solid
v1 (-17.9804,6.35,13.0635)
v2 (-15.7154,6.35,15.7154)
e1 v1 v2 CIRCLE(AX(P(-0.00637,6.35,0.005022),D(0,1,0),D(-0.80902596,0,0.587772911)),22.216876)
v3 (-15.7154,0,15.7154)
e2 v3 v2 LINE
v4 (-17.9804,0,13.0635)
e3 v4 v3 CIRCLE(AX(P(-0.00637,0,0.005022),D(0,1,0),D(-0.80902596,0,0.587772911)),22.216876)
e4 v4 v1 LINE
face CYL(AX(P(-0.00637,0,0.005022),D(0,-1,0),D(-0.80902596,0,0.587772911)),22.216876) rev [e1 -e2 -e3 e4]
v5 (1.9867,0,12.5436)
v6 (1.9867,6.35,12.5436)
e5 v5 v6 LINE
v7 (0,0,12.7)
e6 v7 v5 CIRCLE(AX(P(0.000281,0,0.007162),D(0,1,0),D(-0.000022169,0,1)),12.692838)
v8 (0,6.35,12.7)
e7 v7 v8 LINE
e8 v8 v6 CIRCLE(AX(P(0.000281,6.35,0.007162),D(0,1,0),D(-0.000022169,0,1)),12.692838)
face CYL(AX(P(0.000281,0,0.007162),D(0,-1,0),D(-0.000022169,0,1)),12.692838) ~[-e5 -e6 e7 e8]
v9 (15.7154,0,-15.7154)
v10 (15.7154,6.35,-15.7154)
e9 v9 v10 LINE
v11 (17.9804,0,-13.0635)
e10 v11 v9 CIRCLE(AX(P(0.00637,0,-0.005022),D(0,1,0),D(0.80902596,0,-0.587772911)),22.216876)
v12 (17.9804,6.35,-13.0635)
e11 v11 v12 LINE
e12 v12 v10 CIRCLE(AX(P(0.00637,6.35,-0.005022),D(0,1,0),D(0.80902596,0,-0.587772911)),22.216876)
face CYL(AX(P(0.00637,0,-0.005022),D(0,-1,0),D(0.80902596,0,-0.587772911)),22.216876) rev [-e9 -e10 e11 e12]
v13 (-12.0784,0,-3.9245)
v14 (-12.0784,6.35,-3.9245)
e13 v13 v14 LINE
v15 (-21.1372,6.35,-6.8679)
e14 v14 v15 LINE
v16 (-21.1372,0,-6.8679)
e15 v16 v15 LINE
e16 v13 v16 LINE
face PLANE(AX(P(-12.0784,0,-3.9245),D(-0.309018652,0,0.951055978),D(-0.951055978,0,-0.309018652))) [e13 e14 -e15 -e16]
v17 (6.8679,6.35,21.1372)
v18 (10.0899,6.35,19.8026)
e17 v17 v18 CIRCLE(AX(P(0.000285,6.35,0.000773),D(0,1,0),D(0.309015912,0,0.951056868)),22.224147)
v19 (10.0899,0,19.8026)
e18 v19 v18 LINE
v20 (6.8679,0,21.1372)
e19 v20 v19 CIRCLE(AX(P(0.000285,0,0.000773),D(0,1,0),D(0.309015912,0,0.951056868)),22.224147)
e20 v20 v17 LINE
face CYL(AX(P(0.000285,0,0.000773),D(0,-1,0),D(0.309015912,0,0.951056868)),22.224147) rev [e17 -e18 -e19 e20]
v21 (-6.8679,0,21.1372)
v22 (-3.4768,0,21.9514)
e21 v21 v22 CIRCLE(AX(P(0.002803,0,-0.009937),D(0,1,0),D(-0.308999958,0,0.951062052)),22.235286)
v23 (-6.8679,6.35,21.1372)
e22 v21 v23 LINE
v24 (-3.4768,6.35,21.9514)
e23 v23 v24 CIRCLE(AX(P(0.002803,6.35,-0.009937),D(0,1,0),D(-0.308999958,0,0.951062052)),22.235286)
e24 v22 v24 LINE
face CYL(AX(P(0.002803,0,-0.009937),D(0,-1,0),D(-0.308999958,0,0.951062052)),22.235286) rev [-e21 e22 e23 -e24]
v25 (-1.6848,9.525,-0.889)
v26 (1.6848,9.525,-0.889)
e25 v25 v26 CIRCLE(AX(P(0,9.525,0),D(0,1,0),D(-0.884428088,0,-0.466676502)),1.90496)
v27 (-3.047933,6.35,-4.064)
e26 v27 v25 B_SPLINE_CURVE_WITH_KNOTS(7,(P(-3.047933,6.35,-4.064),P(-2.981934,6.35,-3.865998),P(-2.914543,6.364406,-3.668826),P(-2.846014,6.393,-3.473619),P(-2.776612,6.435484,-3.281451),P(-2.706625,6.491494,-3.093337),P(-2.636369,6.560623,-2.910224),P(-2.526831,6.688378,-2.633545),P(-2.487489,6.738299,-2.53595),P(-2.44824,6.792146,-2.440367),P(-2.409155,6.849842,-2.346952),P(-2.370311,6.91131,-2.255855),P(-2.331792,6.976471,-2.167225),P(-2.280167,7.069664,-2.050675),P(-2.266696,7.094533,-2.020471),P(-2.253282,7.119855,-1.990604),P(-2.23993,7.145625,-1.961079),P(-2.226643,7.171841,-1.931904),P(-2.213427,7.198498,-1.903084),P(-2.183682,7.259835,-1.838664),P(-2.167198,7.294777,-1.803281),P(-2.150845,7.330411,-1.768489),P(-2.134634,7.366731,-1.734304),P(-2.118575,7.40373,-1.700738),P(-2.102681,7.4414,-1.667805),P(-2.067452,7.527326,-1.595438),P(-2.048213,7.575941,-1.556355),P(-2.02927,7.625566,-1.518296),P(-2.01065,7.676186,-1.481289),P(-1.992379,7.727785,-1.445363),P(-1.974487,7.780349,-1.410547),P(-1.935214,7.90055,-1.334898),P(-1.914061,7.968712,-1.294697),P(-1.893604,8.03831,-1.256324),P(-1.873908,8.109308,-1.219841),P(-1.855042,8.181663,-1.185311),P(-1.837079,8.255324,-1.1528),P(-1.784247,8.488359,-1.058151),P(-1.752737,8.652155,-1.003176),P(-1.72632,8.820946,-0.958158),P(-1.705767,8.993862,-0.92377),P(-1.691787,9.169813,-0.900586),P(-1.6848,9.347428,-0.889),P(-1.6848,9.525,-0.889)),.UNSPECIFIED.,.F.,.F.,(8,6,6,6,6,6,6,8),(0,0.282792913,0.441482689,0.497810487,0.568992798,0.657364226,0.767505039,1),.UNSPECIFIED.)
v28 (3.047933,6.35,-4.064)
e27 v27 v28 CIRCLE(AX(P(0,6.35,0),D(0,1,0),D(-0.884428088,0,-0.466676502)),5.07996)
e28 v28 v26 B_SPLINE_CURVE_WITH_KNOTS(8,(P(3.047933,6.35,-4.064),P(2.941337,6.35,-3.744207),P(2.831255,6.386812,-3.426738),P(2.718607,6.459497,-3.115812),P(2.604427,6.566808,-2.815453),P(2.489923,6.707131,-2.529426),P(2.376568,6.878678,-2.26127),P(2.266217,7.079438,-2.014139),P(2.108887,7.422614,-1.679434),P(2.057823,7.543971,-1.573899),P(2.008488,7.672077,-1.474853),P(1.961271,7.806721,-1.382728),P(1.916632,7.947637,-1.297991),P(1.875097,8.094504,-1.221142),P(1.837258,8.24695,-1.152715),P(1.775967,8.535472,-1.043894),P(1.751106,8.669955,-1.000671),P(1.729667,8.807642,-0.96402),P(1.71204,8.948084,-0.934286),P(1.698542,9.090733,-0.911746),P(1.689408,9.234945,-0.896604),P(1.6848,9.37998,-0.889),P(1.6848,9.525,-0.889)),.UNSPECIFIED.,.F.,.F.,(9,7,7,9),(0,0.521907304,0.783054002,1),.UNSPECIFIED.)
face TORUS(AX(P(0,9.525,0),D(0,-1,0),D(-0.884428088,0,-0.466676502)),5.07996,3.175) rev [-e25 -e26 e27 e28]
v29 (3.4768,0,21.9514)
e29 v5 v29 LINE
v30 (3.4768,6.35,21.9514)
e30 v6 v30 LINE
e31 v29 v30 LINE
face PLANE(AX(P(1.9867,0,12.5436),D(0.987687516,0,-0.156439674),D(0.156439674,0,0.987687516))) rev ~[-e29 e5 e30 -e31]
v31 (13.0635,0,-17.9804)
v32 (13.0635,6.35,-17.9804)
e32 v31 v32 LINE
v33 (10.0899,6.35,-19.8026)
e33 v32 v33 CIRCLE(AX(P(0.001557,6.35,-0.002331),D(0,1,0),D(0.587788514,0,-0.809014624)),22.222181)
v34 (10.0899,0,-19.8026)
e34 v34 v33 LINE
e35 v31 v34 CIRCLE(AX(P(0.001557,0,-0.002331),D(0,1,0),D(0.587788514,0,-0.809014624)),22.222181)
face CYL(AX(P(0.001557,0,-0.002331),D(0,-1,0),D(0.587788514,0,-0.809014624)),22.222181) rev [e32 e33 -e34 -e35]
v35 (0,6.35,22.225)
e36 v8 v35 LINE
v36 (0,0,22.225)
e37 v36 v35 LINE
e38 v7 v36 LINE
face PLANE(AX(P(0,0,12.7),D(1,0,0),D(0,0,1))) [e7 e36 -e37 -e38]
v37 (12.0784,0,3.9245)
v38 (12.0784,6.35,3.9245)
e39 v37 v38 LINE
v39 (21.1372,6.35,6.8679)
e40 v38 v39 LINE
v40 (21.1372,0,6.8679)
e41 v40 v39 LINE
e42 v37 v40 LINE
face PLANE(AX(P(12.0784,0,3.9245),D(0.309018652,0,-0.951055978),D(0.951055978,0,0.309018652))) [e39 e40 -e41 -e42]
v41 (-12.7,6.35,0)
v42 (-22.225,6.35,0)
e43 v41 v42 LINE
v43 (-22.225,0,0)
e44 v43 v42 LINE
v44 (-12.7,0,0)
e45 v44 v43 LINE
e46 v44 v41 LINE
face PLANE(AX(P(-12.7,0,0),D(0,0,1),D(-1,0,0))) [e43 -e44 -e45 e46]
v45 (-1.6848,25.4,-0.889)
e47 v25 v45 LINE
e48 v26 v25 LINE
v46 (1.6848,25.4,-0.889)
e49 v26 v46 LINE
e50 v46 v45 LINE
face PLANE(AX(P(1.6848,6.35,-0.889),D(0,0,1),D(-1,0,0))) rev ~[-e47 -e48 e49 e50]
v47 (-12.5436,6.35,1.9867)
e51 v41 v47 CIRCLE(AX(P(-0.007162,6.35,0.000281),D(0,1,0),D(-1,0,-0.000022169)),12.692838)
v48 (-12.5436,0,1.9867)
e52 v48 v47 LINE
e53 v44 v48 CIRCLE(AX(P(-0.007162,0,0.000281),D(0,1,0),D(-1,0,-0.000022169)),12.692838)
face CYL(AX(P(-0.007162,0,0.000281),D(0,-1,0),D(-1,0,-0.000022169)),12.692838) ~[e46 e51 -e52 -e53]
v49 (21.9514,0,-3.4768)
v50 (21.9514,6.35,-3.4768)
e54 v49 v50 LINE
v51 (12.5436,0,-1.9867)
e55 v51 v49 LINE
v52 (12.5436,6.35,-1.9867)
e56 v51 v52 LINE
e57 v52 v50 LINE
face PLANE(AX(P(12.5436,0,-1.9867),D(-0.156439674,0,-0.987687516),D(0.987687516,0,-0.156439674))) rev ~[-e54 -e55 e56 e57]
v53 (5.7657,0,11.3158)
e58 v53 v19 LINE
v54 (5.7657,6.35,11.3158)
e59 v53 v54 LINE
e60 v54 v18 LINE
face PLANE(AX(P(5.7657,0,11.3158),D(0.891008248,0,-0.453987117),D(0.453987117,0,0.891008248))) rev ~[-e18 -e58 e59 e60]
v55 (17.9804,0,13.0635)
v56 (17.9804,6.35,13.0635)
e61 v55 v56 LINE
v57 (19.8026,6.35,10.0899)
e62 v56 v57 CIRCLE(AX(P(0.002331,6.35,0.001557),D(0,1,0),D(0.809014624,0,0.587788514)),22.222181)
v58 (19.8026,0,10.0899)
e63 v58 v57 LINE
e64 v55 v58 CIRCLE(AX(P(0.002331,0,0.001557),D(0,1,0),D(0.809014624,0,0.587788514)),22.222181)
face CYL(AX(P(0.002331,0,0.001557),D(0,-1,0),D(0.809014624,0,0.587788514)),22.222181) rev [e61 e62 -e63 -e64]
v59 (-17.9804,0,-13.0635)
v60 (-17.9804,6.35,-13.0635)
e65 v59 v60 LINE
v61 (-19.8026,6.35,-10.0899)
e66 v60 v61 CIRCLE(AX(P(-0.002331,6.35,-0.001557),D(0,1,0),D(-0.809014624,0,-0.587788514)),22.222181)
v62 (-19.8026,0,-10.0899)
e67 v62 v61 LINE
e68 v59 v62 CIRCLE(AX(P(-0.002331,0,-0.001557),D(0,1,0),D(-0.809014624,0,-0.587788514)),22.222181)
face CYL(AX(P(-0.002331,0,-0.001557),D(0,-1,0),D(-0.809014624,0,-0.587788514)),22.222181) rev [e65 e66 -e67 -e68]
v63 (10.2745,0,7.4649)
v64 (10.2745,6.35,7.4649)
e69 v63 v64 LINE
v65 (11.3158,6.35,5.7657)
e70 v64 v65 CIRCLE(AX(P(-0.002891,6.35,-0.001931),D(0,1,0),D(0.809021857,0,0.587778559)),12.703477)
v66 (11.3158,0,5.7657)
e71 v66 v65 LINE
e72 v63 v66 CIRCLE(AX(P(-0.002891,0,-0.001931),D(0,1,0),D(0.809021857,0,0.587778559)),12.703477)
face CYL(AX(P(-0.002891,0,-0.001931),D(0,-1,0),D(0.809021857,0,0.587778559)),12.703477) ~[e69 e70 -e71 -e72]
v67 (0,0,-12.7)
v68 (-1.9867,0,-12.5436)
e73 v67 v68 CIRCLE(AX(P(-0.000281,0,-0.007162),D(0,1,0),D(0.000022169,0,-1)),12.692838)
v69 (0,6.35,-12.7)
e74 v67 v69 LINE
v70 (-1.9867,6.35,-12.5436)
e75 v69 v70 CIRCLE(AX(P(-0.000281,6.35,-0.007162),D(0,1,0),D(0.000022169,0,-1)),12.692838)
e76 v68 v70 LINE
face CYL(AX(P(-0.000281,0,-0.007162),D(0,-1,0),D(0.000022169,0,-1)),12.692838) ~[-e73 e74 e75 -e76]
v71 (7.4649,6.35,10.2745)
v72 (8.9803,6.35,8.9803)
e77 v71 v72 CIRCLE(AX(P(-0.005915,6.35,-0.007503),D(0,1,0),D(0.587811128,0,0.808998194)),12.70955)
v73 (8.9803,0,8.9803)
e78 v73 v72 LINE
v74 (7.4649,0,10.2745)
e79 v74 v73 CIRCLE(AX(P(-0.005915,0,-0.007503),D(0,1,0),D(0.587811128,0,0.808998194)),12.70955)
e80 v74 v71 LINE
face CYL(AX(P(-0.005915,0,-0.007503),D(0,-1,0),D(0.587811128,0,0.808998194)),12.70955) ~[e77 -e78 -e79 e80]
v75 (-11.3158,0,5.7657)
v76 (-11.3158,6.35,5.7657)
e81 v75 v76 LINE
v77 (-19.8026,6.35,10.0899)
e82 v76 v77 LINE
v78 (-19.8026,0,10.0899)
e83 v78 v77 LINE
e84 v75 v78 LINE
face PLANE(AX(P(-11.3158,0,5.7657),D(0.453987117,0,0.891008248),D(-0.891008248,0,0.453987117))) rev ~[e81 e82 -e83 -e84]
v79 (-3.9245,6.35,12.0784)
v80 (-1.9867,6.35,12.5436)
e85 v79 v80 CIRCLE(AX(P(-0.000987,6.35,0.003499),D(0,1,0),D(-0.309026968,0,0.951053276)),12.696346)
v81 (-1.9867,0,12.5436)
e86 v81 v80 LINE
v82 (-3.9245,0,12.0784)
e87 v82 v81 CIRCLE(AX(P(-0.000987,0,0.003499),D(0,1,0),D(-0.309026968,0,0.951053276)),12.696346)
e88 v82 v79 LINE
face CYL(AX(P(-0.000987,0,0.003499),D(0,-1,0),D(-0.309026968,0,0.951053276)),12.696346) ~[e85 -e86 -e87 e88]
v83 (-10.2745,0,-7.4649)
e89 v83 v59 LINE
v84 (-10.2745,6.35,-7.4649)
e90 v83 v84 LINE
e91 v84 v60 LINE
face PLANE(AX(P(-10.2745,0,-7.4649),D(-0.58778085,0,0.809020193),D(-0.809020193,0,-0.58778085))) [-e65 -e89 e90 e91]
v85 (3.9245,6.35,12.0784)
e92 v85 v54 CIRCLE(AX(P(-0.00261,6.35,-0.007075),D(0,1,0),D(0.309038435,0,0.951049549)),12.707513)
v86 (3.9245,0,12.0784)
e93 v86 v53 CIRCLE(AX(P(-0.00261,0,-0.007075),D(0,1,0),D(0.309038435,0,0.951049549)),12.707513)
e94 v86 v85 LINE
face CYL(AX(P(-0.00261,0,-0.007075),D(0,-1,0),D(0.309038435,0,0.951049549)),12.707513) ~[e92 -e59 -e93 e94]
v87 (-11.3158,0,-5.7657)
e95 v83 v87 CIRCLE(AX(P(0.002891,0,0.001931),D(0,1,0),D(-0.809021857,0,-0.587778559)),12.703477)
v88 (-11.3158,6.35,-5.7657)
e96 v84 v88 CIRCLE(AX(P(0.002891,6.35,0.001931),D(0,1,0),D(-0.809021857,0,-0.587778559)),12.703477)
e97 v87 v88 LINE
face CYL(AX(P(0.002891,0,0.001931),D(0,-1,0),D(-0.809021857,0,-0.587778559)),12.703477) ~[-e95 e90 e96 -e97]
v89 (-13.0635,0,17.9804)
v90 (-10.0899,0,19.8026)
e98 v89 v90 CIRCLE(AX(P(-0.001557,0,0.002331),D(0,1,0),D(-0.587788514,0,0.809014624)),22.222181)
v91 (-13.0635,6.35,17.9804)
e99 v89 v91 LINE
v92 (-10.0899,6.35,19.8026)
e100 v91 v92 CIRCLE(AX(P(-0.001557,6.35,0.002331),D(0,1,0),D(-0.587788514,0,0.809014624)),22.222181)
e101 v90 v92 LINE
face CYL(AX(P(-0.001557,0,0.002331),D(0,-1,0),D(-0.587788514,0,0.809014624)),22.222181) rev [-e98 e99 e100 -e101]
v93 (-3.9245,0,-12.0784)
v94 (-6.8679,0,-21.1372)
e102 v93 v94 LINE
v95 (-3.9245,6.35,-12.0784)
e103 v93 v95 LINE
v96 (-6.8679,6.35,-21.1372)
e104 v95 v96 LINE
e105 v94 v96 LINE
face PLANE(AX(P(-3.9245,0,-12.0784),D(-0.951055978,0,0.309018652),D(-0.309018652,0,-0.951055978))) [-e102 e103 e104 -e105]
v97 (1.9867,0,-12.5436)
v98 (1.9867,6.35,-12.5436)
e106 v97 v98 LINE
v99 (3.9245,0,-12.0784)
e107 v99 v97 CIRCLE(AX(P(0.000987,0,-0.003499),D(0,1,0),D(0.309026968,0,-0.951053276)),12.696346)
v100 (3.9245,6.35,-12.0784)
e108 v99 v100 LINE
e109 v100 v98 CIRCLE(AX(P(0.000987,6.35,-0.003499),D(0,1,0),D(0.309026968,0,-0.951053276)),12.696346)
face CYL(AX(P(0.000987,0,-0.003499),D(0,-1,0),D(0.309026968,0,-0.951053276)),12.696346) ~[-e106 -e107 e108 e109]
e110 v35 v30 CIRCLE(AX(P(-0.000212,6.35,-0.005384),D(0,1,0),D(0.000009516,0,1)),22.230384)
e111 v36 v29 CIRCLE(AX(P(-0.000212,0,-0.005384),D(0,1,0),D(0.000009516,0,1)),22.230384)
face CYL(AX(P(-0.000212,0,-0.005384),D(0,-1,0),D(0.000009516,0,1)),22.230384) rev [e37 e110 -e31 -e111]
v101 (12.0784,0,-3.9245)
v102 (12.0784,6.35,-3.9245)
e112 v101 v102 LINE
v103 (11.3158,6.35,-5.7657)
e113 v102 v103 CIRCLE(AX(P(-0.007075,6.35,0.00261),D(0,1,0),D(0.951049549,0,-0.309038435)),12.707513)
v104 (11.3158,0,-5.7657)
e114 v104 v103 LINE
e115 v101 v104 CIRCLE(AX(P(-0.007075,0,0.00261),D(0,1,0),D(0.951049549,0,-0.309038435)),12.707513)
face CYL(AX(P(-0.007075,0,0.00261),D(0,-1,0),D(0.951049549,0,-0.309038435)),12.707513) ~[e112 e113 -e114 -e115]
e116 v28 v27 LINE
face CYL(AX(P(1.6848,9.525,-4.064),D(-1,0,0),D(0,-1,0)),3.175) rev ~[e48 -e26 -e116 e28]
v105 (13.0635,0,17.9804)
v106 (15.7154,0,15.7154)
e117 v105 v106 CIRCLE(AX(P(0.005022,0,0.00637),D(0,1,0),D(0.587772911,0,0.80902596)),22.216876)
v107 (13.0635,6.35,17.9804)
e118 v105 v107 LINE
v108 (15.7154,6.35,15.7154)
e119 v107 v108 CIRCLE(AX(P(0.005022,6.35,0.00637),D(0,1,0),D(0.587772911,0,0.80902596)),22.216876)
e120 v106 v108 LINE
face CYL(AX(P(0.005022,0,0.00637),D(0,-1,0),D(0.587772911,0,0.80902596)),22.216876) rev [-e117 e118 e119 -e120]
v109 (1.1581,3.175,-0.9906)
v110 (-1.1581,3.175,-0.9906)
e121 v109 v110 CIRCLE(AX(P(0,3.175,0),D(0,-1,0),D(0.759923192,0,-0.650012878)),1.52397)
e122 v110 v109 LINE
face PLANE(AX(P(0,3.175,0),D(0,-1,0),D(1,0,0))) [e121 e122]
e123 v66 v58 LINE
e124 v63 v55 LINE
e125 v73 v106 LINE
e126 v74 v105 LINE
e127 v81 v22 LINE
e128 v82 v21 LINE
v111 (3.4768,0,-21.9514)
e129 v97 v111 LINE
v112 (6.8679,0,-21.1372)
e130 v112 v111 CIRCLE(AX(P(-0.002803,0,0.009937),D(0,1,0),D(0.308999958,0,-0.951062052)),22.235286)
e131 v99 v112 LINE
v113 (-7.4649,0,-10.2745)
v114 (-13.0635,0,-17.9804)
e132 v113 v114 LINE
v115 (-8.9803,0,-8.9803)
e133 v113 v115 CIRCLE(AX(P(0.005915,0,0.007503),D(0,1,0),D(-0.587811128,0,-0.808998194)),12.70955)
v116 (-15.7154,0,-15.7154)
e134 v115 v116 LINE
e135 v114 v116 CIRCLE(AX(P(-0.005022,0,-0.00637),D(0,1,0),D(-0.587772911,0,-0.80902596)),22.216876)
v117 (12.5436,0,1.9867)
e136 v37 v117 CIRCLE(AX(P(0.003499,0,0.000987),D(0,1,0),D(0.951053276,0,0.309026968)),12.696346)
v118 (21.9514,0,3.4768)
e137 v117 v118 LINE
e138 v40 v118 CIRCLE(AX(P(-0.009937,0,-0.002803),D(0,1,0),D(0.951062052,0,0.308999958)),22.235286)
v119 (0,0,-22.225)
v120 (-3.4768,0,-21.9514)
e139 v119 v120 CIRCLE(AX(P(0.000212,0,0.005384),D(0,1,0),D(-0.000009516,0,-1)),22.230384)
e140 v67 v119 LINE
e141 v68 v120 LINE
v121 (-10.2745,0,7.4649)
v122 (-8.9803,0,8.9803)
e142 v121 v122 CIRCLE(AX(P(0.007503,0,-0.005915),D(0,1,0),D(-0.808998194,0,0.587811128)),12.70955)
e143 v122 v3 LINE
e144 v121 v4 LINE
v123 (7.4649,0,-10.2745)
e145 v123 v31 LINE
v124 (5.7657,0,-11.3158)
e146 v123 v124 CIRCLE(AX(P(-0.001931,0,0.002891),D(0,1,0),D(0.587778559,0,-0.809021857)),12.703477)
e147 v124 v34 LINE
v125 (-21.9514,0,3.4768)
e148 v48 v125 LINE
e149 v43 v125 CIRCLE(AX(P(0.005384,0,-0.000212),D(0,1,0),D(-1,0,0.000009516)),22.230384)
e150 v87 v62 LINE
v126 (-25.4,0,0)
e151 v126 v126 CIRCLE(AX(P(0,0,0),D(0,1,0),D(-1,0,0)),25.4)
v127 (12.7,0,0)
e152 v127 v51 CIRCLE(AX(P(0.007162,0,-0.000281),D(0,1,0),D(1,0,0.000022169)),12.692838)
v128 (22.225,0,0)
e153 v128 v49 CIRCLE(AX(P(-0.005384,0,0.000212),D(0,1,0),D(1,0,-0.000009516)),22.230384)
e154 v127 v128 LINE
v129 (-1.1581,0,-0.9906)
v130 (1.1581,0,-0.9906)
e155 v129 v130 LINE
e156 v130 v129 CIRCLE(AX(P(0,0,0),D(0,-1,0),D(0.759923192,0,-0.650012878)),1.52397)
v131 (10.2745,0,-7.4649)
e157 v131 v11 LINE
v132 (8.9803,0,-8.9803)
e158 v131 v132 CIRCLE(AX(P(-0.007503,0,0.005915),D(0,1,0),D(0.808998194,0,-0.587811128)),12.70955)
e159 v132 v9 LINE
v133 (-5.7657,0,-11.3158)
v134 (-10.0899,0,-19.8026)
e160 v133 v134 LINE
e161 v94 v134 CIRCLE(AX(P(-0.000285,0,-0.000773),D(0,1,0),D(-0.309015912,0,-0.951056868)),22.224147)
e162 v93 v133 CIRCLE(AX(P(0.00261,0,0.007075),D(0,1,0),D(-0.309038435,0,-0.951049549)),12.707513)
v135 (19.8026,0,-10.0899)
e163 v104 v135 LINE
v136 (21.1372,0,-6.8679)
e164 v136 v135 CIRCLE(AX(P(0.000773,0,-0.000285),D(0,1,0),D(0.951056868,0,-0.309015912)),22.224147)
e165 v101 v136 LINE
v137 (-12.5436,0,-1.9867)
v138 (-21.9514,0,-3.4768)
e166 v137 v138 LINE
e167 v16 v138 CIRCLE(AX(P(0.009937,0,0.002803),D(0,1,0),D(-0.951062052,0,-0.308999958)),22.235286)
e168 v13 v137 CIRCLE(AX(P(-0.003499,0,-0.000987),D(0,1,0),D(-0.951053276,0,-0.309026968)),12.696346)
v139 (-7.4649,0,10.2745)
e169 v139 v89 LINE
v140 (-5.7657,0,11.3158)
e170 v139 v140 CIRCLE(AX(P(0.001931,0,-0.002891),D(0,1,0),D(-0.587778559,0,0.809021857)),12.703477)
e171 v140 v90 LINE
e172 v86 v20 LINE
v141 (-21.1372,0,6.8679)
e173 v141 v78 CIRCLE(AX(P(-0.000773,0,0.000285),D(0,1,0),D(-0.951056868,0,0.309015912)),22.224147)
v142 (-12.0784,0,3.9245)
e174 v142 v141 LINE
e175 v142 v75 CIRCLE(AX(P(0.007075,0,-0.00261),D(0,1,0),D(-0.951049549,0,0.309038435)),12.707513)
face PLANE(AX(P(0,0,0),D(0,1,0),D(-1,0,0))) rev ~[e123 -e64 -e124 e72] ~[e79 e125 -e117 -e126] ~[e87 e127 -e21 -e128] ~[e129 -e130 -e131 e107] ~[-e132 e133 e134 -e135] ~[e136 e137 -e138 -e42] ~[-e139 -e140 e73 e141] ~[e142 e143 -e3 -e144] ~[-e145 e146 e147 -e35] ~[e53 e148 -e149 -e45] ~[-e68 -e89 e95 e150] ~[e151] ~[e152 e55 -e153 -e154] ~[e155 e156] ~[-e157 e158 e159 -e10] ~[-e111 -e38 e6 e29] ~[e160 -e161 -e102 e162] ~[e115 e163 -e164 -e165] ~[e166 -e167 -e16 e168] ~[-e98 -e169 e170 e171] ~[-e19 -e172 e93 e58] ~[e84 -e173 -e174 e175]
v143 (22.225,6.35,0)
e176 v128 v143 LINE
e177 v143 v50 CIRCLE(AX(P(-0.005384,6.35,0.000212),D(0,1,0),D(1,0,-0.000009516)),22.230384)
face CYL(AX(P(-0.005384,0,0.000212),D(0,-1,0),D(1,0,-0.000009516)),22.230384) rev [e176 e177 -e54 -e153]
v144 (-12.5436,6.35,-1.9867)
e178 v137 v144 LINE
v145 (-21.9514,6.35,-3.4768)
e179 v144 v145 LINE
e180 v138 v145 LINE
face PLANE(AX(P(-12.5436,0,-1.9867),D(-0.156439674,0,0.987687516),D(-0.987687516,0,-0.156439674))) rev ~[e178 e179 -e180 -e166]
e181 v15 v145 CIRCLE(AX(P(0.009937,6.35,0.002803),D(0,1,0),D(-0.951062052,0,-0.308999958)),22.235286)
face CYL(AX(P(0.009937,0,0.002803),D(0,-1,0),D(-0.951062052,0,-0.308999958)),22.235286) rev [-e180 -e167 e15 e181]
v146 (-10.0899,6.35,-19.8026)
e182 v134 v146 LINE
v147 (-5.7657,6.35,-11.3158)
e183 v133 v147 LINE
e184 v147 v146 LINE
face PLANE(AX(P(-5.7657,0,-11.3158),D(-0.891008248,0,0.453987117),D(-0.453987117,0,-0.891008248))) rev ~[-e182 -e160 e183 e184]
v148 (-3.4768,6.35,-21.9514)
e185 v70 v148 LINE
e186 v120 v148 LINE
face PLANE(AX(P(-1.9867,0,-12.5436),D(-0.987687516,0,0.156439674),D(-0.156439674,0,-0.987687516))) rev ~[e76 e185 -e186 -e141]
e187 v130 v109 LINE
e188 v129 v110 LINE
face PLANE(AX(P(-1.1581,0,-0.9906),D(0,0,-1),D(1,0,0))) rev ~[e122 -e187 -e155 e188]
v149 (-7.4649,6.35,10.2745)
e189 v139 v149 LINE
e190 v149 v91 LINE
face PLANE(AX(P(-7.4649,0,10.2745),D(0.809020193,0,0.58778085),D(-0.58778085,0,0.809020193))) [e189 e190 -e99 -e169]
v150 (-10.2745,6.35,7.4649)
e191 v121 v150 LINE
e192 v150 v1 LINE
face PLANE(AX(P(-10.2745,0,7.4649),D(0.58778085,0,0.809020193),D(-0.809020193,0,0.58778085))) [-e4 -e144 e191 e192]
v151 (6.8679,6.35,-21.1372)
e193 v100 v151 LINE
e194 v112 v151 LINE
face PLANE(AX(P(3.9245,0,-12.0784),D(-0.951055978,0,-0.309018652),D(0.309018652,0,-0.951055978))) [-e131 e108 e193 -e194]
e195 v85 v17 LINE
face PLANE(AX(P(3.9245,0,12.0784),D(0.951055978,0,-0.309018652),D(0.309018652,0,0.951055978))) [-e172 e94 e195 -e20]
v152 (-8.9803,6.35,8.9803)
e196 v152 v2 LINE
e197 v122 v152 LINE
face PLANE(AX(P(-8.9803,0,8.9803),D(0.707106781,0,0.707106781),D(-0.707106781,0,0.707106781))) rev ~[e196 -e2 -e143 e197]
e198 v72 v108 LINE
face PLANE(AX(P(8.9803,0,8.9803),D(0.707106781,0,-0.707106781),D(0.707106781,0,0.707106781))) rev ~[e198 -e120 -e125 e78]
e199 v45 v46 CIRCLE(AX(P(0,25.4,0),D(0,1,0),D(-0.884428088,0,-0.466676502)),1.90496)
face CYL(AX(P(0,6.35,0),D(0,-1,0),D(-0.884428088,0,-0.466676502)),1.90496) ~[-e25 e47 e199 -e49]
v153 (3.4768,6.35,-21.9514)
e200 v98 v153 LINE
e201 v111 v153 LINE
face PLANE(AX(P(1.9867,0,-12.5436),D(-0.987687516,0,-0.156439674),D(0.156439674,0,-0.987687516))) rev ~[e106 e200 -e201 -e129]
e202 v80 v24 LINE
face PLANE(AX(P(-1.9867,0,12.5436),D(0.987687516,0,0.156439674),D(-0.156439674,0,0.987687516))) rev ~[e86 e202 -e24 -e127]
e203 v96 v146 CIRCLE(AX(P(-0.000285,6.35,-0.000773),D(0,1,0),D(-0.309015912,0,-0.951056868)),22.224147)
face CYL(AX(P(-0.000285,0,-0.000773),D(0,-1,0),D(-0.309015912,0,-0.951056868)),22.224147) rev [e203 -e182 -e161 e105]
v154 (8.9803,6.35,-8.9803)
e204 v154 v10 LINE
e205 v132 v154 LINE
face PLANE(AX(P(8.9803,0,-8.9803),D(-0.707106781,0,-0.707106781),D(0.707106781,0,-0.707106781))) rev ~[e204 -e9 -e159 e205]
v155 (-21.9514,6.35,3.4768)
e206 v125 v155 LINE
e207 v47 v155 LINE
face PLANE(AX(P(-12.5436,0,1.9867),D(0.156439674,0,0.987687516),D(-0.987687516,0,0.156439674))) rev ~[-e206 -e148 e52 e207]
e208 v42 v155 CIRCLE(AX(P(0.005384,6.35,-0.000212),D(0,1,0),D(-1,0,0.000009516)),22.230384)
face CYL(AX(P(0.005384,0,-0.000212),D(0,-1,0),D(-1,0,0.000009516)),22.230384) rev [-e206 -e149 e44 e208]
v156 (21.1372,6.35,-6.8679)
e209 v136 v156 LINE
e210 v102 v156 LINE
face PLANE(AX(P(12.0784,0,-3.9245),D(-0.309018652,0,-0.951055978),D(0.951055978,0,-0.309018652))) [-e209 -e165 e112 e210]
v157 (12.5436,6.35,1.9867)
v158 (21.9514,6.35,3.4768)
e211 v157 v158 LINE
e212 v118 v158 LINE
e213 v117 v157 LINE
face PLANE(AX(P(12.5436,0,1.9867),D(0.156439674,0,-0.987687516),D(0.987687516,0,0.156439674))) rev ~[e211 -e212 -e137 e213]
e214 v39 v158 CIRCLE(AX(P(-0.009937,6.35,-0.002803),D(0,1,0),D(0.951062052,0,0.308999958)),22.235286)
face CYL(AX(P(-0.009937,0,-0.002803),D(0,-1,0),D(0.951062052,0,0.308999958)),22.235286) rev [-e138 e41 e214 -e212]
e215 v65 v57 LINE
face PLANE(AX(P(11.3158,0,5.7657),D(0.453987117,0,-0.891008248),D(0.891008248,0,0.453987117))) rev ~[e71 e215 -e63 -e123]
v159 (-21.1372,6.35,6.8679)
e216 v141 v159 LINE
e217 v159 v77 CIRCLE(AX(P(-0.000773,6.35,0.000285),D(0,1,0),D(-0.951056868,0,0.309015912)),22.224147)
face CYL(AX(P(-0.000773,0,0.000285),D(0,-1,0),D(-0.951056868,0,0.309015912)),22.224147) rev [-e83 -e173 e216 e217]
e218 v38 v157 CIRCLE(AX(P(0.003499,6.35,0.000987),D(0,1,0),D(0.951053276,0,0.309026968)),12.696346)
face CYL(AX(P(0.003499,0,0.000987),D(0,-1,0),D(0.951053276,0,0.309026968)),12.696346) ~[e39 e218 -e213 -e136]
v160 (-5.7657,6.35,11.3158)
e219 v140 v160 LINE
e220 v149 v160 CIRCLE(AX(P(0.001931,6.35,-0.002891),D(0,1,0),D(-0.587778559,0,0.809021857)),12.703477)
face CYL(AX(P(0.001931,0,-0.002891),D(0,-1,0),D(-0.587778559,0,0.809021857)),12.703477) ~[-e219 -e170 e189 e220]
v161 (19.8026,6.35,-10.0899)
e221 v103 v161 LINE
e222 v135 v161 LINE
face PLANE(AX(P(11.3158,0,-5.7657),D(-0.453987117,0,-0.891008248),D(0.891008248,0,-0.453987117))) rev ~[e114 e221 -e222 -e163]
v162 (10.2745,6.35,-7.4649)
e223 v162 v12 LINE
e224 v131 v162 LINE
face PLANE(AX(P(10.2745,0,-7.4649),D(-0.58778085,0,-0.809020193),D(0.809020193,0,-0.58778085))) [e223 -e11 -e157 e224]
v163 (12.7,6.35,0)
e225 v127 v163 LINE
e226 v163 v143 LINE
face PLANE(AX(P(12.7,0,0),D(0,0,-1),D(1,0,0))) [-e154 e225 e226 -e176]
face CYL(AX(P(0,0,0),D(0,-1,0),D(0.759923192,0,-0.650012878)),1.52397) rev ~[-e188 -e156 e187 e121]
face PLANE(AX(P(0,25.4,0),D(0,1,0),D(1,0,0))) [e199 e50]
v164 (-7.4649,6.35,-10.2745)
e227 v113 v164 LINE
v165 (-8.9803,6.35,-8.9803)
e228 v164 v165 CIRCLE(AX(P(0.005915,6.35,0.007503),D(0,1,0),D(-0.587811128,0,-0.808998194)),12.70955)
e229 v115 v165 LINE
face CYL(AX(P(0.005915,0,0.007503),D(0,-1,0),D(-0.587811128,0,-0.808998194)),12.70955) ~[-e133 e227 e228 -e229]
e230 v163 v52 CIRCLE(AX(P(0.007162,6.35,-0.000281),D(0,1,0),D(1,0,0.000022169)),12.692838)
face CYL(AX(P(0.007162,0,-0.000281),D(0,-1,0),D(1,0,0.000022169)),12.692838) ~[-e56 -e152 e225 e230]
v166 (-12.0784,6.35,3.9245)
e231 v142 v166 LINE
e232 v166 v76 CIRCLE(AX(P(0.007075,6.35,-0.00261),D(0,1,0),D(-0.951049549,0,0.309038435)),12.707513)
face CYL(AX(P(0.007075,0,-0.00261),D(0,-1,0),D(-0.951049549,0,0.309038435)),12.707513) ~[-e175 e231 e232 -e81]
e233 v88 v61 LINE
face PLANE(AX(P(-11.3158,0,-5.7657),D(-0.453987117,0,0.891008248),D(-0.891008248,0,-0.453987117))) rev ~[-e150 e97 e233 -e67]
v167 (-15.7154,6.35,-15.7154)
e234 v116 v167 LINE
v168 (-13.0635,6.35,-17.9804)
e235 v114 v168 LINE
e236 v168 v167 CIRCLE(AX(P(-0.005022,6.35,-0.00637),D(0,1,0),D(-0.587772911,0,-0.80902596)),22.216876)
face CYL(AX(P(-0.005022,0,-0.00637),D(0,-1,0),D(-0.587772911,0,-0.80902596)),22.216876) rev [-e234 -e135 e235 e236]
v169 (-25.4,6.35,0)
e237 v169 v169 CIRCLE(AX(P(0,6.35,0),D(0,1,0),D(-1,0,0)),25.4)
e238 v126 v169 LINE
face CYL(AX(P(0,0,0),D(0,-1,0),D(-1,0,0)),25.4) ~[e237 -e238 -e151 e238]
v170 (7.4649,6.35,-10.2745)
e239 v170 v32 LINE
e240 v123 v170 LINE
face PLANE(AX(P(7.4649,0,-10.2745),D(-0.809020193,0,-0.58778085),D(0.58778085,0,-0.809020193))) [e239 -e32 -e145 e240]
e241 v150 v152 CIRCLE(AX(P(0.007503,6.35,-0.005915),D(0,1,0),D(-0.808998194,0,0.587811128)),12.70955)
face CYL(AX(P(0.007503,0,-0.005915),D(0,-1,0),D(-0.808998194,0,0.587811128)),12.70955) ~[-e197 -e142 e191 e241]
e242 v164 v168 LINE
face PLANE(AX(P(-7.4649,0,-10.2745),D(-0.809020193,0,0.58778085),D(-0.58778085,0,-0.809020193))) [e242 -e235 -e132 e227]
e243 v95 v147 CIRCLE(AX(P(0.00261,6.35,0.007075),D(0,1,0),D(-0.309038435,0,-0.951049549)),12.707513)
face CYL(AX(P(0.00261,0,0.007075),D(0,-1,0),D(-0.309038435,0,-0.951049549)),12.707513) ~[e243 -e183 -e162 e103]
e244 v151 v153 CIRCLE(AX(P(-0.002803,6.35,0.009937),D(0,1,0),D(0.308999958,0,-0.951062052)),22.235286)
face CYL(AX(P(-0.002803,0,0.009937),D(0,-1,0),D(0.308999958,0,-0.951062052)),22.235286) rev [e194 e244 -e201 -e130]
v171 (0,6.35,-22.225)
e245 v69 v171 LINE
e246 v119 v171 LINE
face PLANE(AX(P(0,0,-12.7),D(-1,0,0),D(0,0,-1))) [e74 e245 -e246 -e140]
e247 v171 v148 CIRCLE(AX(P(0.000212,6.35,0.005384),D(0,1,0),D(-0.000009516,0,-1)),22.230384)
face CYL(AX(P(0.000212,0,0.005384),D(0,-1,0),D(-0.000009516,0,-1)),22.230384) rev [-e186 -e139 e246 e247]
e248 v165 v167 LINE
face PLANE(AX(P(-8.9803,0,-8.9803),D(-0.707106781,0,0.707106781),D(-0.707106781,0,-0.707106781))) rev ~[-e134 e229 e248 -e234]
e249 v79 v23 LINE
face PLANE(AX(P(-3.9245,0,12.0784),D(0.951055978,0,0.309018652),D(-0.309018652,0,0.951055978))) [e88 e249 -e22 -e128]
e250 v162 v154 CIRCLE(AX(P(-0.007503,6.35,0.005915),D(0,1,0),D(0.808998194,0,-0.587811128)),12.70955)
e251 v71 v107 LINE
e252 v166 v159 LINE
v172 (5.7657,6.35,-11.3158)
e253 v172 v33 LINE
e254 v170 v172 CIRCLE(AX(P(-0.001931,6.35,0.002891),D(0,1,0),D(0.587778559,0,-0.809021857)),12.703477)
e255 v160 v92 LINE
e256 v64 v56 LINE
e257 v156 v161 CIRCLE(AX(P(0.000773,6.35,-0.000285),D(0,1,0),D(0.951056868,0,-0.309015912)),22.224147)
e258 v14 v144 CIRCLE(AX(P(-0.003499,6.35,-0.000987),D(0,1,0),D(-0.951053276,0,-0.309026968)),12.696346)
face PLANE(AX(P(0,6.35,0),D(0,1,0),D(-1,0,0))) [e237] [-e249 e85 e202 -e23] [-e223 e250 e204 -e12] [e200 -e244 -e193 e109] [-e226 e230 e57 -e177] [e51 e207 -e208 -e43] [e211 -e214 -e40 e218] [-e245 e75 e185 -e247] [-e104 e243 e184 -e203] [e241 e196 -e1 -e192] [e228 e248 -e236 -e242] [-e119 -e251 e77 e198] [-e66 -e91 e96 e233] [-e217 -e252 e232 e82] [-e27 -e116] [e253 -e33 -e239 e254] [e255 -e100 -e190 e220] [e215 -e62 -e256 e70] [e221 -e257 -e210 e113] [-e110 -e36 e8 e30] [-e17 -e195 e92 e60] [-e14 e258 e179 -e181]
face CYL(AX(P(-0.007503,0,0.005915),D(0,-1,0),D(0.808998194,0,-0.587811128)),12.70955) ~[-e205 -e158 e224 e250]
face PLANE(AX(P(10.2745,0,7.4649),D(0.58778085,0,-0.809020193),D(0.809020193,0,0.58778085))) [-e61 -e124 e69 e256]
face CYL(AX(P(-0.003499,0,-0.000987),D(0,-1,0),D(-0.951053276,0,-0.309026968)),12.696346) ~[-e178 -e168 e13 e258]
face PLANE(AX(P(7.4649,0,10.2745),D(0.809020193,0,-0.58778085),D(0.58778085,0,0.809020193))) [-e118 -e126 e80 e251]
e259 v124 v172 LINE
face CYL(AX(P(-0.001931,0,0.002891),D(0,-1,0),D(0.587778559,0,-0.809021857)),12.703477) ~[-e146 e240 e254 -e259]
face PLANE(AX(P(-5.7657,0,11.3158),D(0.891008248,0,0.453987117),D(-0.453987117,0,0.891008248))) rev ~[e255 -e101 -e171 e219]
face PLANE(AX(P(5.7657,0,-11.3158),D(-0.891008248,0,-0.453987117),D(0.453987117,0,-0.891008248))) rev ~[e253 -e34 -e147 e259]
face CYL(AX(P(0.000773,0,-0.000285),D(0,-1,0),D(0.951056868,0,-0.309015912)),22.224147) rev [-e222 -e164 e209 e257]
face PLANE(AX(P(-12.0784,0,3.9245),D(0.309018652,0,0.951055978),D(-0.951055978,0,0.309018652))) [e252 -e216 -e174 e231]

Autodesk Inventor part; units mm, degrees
ref_plane "YZ Plane" through (0, 0, 0) normal (1, 0, 0) x (0, 1, 0)
ref_plane "XZ Plane" through (0, 0, 0) normal (0, 1, 0) x (-1, 0, 0)
ref_plane "XY Plane" through (0, 0, 0) normal (0, 0, 1) x (1, 0, 0)
sketch "Sketch1" plane through (0, 0, 0) normal (0, 1, 0) x (-1, 0, 0)
  circle A0 centre (0, 0) radius 25.4
  line L0 (12.7, 0) -> (22.225, 0)
  line L1 (12.5436, 1.9867) -> (21.9514, 3.4768)
  line L2 (0, 0) -> (22.225, 0) construction
  line L3 (0, 0) -> (22.225, 0) construction
  line L4 (0, 0) -> (22.225, 0) construction
  arc A1 (12.7, 0) -> (12.5436, 1.9867) centre (0, 0) ccw
  arc A2 (22.225, 0) -> (21.9514, 3.4768) centre (0, 0) ccw
  line L5 (12.0784, 3.9245) -> (21.1372, 6.8679)
  line L6 (11.3158, 5.7657) -> (19.8026, 10.0899)
  line L7 (0, 0) -> (21.1372, 6.8679) construction
  arc A3 (12.0784, 3.9245) -> (11.3158, 5.7657) centre (0, 0) ccw
  arc A4 (21.1372, 6.8679) -> (19.8026, 10.0899) centre (0, 0) ccw
  line L8 (10.2745, 7.4649) -> (17.9804, 13.0635)
  line L9 (8.9803, 8.9803) -> (15.7154, 15.7154)
  line L10 (0, 0) -> (17.9804, 13.0635) construction
  arc A5 (10.2745, 7.4649) -> (8.9803, 8.9803) centre (0, 0) ccw
  arc A6 (17.9804, 13.0635) -> (15.7154, 15.7154) centre (0, 0) ccw
  line L11 (7.4649, 10.2745) -> (13.0635, 17.9804)
  line L12 (5.7657, 11.3158) -> (10.0899, 19.8026)
  line L13 (0, 0) -> (13.0635, 17.9804) construction
  arc A7 (7.4649, 10.2745) -> (5.7657, 11.3158) centre (0, 0) ccw
  arc A8 (13.0635, 17.9804) -> (10.0899, 19.8026) centre (0, 0) ccw
  line L14 (3.9245, 12.0784) -> (6.8679, 21.1372)
  line L15 (1.9867, 12.5436) -> (3.4768, 21.9514)
  line L16 (0, 0) -> (6.8679, 21.1372) construction
  arc A9 (3.9245, 12.0784) -> (1.9867, 12.5436) centre (0, 0) ccw
  arc A10 (6.8679, 21.1372) -> (3.4768, 21.9514) centre (0, 0) ccw
  line L17 (0, 12.7) -> (0, 22.225)
  line L18 (-1.9867, 12.5436) -> (-3.4768, 21.9514)
  line L19 (0, 0) -> (0, 22.225) construction
  arc A11 (0, 12.7) -> (-1.9867, 12.5436) centre (0, 0) ccw
  arc A12 (0, 22.225) -> (-3.4768, 21.9514) centre (0, 0) ccw
  line L20 (-3.9245, 12.0784) -> (-6.8679, 21.1372)
  line L21 (-5.7657, 11.3158) -> (-10.0899, 19.8026)
  line L22 (0, 0) -> (-6.8679, 21.1372) construction
  arc A13 (-3.9245, 12.0784) -> (-5.7657, 11.3158) centre (0, 0) ccw
  arc A14 (-6.8679, 21.1372) -> (-10.0899, 19.8026) centre (0, 0) ccw
  line L23 (-7.4649, 10.2745) -> (-13.0635, 17.9804)
  line L24 (-8.9803, 8.9803) -> (-15.7154, 15.7154)
  line L25 (0, 0) -> (-13.0635, 17.9804) construction
  arc A15 (-7.4649, 10.2745) -> (-8.9803, 8.9803) centre (0, 0) ccw
  arc A16 (-13.0635, 17.9804) -> (-15.7154, 15.7154) centre (0, 0) ccw
  line L26 (-10.2745, 7.4649) -> (-17.9804, 13.0635)
  line L27 (-11.3158, 5.7657) -> (-19.8026, 10.0899)
  line L28 (0, 0) -> (-17.9804, 13.0635) construction
  arc A17 (-10.2745, 7.4649) -> (-11.3158, 5.7657) centre (0, 0) ccw
  arc A18 (-17.9804, 13.0635) -> (-19.8026, 10.0899) centre (0, 0) ccw
  line L29 (-12.0784, 3.9245) -> (-21.1372, 6.8679)
  line L30 (-12.5436, 1.9867) -> (-21.9514, 3.4768)
  line L31 (0, 0) -> (-21.1372, 6.8679) construction
  arc A19 (-12.0784, 3.9245) -> (-12.5436, 1.9867) centre (0, 0) ccw
  arc A20 (-21.1372, 6.8679) -> (-21.9514, 3.4768) centre (0, 0) ccw
  line L32 (-12.7, 0) -> (-22.225, 0)
  line L33 (-12.5436, -1.9867) -> (-21.9514, -3.4768)
  line L34 (0, 0) -> (-22.225, 0) construction
  arc A21 (-12.7, 0) -> (-12.5436, -1.9867) centre (0, 0) ccw
  arc A22 (-22.225, 0) -> (-21.9514, -3.4768) centre (0, 0) ccw
  line L35 (-12.0784, -3.9245) -> (-21.1372, -6.8679)
  line L36 (-11.3158, -5.7657) -> (-19.8026, -10.0899)
  line L37 (0, 0) -> (-21.1372, -6.8679) construction
  arc A23 (-12.0784, -3.9245) -> (-11.3158, -5.7657) centre (0, 0) ccw
  arc A24 (-21.1372, -6.8679) -> (-19.8026, -10.0899) centre (0, 0) ccw
  line L38 (-10.2745, -7.4649) -> (-17.9804, -13.0635)
  line L39 (-8.9803, -8.9803) -> (-15.7154, -15.7154)
  line L40 (0, 0) -> (-17.9804, -13.0635) construction
  arc A25 (-10.2745, -7.4649) -> (-8.9803, -8.9803) centre (0, 0) ccw
  arc A26 (-17.9804, -13.0635) -> (-15.7154, -15.7154) centre (0, 0) ccw
  line L41 (-7.4649, -10.2745) -> (-13.0635, -17.9804)
  line L42 (-5.7657, -11.3158) -> (-10.0899, -19.8026)
  line L43 (0, 0) -> (-13.0635, -17.9804) construction
  arc A27 (-7.4649, -10.2745) -> (-5.7657, -11.3158) centre (0, 0) ccw
  arc A28 (-13.0635, -17.9804) -> (-10.0899, -19.8026) centre (0, 0) ccw
  line L44 (-3.9245, -12.0784) -> (-6.8679, -21.1372)
  line L45 (-1.9867, -12.5436) -> (-3.4768, -21.9514)
  line L46 (0, 0) -> (-6.8679, -21.1372) construction
  arc A29 (-3.9245, -12.0784) -> (-1.9867, -12.5436) centre (0, 0) ccw
  arc A30 (-6.8679, -21.1372) -> (-3.4768, -21.9514) centre (0, 0) ccw
  line L47 (0, -12.7) -> (0, -22.225)
  line L48 (1.9867, -12.5436) -> (3.4768, -21.9514)
  line L49 (0, 0) -> (0, -22.225) construction
  arc A31 (0, -12.7) -> (1.9867, -12.5436) centre (0, 0) ccw
  arc A32 (0, -22.225) -> (3.4768, -21.9514) centre (0, 0) ccw
  line L50 (3.9245, -12.0784) -> (6.8679, -21.1372)
  line L51 (5.7657, -11.3158) -> (10.0899, -19.8026)
  line L52 (0, 0) -> (6.8679, -21.1372) construction
  arc A33 (3.9245, -12.0784) -> (5.7657, -11.3158) centre (0, 0) ccw
  arc A34 (6.8679, -21.1372) -> (10.0899, -19.8026) centre (0, 0) ccw
  line L53 (7.4649, -10.2745) -> (13.0635, -17.9804)
  line L54 (8.9803, -8.9803) -> (15.7154, -15.7154)
  line L55 (0, 0) -> (13.0635, -17.9804) construction
  arc A35 (7.4649, -10.2745) -> (8.9803, -8.9803) centre (0, 0) ccw
  arc A36 (13.0635, -17.9804) -> (15.7154, -15.7154) centre (0, 0) ccw
  line L56 (10.2745, -7.4649) -> (17.9804, -13.0635)
  line L57 (11.3158, -5.7657) -> (19.8026, -10.0899)
  line L58 (0, 0) -> (17.9804, -13.0635) construction
  arc A37 (10.2745, -7.4649) -> (11.3158, -5.7657) centre (0, 0) ccw
  arc A38 (17.9804, -13.0635) -> (19.8026, -10.0899) centre (0, 0) ccw
  line L59 (12.0784, -3.9245) -> (21.1372, -6.8679)
  line L60 (12.5436, -1.9867) -> (21.9514, -3.4768)
  line L61 (0, 0) -> (21.1372, -6.8679) construction
  arc A39 (12.0784, -3.9245) -> (12.5436, -1.9867) centre (0, 0) ccw
  arc A40 (21.1372, -6.8679) -> (21.9514, -3.4768) centre (0, 0) ccw
  dimension "d0" = 50.8
  dimension "d3" = 9
  dimension "d9" = 360
extrude "Extrusion1" add sketch "Sketch1" along normal blind 6.35
sketch "Sketch2" plane through (0, 6.35, 0) normal (0, 1, 0) x (1, 0, 0)
  arc A0 (-22.225, 0) -> (-21.9514, -3.4768) centre (0, 0) ccw projected
  arc A1 (-1.6848, 0.889) -> (1.6848, 0.889) centre (0, 0) ccw
  line L0 (1.6848, 0.889) -> (-1.6848, 0.889)
  dimension "d23" = 3.81
extrude "Extrusion2" add sketch "Sketch2" along normal blind 19.05
sketch "Sketch3" plane through (0, 0, 0) normal (0, -1, 0) x (1, 0, 0)
  circle A0 centre (0, 0) radius 25.4 projected
  arc A1 (1.1581, -0.9906) -> (-1.1581, -0.9906) centre (0, 0) ccw
  line L0 (-1.1581, -0.9906) -> (1.1581, -0.9906)
  dimension "d19" = 3.048
extrude "Extrusion3" cut sketch "Sketch3" against normal blind 3.175 contours L0 A1
fillet "Fillet3" radius 3.175 2 edges at (0, 6.35, -0.889) (0, 6.35, 1.905)
properties part number "EncoderWheelAndPotInsert"
